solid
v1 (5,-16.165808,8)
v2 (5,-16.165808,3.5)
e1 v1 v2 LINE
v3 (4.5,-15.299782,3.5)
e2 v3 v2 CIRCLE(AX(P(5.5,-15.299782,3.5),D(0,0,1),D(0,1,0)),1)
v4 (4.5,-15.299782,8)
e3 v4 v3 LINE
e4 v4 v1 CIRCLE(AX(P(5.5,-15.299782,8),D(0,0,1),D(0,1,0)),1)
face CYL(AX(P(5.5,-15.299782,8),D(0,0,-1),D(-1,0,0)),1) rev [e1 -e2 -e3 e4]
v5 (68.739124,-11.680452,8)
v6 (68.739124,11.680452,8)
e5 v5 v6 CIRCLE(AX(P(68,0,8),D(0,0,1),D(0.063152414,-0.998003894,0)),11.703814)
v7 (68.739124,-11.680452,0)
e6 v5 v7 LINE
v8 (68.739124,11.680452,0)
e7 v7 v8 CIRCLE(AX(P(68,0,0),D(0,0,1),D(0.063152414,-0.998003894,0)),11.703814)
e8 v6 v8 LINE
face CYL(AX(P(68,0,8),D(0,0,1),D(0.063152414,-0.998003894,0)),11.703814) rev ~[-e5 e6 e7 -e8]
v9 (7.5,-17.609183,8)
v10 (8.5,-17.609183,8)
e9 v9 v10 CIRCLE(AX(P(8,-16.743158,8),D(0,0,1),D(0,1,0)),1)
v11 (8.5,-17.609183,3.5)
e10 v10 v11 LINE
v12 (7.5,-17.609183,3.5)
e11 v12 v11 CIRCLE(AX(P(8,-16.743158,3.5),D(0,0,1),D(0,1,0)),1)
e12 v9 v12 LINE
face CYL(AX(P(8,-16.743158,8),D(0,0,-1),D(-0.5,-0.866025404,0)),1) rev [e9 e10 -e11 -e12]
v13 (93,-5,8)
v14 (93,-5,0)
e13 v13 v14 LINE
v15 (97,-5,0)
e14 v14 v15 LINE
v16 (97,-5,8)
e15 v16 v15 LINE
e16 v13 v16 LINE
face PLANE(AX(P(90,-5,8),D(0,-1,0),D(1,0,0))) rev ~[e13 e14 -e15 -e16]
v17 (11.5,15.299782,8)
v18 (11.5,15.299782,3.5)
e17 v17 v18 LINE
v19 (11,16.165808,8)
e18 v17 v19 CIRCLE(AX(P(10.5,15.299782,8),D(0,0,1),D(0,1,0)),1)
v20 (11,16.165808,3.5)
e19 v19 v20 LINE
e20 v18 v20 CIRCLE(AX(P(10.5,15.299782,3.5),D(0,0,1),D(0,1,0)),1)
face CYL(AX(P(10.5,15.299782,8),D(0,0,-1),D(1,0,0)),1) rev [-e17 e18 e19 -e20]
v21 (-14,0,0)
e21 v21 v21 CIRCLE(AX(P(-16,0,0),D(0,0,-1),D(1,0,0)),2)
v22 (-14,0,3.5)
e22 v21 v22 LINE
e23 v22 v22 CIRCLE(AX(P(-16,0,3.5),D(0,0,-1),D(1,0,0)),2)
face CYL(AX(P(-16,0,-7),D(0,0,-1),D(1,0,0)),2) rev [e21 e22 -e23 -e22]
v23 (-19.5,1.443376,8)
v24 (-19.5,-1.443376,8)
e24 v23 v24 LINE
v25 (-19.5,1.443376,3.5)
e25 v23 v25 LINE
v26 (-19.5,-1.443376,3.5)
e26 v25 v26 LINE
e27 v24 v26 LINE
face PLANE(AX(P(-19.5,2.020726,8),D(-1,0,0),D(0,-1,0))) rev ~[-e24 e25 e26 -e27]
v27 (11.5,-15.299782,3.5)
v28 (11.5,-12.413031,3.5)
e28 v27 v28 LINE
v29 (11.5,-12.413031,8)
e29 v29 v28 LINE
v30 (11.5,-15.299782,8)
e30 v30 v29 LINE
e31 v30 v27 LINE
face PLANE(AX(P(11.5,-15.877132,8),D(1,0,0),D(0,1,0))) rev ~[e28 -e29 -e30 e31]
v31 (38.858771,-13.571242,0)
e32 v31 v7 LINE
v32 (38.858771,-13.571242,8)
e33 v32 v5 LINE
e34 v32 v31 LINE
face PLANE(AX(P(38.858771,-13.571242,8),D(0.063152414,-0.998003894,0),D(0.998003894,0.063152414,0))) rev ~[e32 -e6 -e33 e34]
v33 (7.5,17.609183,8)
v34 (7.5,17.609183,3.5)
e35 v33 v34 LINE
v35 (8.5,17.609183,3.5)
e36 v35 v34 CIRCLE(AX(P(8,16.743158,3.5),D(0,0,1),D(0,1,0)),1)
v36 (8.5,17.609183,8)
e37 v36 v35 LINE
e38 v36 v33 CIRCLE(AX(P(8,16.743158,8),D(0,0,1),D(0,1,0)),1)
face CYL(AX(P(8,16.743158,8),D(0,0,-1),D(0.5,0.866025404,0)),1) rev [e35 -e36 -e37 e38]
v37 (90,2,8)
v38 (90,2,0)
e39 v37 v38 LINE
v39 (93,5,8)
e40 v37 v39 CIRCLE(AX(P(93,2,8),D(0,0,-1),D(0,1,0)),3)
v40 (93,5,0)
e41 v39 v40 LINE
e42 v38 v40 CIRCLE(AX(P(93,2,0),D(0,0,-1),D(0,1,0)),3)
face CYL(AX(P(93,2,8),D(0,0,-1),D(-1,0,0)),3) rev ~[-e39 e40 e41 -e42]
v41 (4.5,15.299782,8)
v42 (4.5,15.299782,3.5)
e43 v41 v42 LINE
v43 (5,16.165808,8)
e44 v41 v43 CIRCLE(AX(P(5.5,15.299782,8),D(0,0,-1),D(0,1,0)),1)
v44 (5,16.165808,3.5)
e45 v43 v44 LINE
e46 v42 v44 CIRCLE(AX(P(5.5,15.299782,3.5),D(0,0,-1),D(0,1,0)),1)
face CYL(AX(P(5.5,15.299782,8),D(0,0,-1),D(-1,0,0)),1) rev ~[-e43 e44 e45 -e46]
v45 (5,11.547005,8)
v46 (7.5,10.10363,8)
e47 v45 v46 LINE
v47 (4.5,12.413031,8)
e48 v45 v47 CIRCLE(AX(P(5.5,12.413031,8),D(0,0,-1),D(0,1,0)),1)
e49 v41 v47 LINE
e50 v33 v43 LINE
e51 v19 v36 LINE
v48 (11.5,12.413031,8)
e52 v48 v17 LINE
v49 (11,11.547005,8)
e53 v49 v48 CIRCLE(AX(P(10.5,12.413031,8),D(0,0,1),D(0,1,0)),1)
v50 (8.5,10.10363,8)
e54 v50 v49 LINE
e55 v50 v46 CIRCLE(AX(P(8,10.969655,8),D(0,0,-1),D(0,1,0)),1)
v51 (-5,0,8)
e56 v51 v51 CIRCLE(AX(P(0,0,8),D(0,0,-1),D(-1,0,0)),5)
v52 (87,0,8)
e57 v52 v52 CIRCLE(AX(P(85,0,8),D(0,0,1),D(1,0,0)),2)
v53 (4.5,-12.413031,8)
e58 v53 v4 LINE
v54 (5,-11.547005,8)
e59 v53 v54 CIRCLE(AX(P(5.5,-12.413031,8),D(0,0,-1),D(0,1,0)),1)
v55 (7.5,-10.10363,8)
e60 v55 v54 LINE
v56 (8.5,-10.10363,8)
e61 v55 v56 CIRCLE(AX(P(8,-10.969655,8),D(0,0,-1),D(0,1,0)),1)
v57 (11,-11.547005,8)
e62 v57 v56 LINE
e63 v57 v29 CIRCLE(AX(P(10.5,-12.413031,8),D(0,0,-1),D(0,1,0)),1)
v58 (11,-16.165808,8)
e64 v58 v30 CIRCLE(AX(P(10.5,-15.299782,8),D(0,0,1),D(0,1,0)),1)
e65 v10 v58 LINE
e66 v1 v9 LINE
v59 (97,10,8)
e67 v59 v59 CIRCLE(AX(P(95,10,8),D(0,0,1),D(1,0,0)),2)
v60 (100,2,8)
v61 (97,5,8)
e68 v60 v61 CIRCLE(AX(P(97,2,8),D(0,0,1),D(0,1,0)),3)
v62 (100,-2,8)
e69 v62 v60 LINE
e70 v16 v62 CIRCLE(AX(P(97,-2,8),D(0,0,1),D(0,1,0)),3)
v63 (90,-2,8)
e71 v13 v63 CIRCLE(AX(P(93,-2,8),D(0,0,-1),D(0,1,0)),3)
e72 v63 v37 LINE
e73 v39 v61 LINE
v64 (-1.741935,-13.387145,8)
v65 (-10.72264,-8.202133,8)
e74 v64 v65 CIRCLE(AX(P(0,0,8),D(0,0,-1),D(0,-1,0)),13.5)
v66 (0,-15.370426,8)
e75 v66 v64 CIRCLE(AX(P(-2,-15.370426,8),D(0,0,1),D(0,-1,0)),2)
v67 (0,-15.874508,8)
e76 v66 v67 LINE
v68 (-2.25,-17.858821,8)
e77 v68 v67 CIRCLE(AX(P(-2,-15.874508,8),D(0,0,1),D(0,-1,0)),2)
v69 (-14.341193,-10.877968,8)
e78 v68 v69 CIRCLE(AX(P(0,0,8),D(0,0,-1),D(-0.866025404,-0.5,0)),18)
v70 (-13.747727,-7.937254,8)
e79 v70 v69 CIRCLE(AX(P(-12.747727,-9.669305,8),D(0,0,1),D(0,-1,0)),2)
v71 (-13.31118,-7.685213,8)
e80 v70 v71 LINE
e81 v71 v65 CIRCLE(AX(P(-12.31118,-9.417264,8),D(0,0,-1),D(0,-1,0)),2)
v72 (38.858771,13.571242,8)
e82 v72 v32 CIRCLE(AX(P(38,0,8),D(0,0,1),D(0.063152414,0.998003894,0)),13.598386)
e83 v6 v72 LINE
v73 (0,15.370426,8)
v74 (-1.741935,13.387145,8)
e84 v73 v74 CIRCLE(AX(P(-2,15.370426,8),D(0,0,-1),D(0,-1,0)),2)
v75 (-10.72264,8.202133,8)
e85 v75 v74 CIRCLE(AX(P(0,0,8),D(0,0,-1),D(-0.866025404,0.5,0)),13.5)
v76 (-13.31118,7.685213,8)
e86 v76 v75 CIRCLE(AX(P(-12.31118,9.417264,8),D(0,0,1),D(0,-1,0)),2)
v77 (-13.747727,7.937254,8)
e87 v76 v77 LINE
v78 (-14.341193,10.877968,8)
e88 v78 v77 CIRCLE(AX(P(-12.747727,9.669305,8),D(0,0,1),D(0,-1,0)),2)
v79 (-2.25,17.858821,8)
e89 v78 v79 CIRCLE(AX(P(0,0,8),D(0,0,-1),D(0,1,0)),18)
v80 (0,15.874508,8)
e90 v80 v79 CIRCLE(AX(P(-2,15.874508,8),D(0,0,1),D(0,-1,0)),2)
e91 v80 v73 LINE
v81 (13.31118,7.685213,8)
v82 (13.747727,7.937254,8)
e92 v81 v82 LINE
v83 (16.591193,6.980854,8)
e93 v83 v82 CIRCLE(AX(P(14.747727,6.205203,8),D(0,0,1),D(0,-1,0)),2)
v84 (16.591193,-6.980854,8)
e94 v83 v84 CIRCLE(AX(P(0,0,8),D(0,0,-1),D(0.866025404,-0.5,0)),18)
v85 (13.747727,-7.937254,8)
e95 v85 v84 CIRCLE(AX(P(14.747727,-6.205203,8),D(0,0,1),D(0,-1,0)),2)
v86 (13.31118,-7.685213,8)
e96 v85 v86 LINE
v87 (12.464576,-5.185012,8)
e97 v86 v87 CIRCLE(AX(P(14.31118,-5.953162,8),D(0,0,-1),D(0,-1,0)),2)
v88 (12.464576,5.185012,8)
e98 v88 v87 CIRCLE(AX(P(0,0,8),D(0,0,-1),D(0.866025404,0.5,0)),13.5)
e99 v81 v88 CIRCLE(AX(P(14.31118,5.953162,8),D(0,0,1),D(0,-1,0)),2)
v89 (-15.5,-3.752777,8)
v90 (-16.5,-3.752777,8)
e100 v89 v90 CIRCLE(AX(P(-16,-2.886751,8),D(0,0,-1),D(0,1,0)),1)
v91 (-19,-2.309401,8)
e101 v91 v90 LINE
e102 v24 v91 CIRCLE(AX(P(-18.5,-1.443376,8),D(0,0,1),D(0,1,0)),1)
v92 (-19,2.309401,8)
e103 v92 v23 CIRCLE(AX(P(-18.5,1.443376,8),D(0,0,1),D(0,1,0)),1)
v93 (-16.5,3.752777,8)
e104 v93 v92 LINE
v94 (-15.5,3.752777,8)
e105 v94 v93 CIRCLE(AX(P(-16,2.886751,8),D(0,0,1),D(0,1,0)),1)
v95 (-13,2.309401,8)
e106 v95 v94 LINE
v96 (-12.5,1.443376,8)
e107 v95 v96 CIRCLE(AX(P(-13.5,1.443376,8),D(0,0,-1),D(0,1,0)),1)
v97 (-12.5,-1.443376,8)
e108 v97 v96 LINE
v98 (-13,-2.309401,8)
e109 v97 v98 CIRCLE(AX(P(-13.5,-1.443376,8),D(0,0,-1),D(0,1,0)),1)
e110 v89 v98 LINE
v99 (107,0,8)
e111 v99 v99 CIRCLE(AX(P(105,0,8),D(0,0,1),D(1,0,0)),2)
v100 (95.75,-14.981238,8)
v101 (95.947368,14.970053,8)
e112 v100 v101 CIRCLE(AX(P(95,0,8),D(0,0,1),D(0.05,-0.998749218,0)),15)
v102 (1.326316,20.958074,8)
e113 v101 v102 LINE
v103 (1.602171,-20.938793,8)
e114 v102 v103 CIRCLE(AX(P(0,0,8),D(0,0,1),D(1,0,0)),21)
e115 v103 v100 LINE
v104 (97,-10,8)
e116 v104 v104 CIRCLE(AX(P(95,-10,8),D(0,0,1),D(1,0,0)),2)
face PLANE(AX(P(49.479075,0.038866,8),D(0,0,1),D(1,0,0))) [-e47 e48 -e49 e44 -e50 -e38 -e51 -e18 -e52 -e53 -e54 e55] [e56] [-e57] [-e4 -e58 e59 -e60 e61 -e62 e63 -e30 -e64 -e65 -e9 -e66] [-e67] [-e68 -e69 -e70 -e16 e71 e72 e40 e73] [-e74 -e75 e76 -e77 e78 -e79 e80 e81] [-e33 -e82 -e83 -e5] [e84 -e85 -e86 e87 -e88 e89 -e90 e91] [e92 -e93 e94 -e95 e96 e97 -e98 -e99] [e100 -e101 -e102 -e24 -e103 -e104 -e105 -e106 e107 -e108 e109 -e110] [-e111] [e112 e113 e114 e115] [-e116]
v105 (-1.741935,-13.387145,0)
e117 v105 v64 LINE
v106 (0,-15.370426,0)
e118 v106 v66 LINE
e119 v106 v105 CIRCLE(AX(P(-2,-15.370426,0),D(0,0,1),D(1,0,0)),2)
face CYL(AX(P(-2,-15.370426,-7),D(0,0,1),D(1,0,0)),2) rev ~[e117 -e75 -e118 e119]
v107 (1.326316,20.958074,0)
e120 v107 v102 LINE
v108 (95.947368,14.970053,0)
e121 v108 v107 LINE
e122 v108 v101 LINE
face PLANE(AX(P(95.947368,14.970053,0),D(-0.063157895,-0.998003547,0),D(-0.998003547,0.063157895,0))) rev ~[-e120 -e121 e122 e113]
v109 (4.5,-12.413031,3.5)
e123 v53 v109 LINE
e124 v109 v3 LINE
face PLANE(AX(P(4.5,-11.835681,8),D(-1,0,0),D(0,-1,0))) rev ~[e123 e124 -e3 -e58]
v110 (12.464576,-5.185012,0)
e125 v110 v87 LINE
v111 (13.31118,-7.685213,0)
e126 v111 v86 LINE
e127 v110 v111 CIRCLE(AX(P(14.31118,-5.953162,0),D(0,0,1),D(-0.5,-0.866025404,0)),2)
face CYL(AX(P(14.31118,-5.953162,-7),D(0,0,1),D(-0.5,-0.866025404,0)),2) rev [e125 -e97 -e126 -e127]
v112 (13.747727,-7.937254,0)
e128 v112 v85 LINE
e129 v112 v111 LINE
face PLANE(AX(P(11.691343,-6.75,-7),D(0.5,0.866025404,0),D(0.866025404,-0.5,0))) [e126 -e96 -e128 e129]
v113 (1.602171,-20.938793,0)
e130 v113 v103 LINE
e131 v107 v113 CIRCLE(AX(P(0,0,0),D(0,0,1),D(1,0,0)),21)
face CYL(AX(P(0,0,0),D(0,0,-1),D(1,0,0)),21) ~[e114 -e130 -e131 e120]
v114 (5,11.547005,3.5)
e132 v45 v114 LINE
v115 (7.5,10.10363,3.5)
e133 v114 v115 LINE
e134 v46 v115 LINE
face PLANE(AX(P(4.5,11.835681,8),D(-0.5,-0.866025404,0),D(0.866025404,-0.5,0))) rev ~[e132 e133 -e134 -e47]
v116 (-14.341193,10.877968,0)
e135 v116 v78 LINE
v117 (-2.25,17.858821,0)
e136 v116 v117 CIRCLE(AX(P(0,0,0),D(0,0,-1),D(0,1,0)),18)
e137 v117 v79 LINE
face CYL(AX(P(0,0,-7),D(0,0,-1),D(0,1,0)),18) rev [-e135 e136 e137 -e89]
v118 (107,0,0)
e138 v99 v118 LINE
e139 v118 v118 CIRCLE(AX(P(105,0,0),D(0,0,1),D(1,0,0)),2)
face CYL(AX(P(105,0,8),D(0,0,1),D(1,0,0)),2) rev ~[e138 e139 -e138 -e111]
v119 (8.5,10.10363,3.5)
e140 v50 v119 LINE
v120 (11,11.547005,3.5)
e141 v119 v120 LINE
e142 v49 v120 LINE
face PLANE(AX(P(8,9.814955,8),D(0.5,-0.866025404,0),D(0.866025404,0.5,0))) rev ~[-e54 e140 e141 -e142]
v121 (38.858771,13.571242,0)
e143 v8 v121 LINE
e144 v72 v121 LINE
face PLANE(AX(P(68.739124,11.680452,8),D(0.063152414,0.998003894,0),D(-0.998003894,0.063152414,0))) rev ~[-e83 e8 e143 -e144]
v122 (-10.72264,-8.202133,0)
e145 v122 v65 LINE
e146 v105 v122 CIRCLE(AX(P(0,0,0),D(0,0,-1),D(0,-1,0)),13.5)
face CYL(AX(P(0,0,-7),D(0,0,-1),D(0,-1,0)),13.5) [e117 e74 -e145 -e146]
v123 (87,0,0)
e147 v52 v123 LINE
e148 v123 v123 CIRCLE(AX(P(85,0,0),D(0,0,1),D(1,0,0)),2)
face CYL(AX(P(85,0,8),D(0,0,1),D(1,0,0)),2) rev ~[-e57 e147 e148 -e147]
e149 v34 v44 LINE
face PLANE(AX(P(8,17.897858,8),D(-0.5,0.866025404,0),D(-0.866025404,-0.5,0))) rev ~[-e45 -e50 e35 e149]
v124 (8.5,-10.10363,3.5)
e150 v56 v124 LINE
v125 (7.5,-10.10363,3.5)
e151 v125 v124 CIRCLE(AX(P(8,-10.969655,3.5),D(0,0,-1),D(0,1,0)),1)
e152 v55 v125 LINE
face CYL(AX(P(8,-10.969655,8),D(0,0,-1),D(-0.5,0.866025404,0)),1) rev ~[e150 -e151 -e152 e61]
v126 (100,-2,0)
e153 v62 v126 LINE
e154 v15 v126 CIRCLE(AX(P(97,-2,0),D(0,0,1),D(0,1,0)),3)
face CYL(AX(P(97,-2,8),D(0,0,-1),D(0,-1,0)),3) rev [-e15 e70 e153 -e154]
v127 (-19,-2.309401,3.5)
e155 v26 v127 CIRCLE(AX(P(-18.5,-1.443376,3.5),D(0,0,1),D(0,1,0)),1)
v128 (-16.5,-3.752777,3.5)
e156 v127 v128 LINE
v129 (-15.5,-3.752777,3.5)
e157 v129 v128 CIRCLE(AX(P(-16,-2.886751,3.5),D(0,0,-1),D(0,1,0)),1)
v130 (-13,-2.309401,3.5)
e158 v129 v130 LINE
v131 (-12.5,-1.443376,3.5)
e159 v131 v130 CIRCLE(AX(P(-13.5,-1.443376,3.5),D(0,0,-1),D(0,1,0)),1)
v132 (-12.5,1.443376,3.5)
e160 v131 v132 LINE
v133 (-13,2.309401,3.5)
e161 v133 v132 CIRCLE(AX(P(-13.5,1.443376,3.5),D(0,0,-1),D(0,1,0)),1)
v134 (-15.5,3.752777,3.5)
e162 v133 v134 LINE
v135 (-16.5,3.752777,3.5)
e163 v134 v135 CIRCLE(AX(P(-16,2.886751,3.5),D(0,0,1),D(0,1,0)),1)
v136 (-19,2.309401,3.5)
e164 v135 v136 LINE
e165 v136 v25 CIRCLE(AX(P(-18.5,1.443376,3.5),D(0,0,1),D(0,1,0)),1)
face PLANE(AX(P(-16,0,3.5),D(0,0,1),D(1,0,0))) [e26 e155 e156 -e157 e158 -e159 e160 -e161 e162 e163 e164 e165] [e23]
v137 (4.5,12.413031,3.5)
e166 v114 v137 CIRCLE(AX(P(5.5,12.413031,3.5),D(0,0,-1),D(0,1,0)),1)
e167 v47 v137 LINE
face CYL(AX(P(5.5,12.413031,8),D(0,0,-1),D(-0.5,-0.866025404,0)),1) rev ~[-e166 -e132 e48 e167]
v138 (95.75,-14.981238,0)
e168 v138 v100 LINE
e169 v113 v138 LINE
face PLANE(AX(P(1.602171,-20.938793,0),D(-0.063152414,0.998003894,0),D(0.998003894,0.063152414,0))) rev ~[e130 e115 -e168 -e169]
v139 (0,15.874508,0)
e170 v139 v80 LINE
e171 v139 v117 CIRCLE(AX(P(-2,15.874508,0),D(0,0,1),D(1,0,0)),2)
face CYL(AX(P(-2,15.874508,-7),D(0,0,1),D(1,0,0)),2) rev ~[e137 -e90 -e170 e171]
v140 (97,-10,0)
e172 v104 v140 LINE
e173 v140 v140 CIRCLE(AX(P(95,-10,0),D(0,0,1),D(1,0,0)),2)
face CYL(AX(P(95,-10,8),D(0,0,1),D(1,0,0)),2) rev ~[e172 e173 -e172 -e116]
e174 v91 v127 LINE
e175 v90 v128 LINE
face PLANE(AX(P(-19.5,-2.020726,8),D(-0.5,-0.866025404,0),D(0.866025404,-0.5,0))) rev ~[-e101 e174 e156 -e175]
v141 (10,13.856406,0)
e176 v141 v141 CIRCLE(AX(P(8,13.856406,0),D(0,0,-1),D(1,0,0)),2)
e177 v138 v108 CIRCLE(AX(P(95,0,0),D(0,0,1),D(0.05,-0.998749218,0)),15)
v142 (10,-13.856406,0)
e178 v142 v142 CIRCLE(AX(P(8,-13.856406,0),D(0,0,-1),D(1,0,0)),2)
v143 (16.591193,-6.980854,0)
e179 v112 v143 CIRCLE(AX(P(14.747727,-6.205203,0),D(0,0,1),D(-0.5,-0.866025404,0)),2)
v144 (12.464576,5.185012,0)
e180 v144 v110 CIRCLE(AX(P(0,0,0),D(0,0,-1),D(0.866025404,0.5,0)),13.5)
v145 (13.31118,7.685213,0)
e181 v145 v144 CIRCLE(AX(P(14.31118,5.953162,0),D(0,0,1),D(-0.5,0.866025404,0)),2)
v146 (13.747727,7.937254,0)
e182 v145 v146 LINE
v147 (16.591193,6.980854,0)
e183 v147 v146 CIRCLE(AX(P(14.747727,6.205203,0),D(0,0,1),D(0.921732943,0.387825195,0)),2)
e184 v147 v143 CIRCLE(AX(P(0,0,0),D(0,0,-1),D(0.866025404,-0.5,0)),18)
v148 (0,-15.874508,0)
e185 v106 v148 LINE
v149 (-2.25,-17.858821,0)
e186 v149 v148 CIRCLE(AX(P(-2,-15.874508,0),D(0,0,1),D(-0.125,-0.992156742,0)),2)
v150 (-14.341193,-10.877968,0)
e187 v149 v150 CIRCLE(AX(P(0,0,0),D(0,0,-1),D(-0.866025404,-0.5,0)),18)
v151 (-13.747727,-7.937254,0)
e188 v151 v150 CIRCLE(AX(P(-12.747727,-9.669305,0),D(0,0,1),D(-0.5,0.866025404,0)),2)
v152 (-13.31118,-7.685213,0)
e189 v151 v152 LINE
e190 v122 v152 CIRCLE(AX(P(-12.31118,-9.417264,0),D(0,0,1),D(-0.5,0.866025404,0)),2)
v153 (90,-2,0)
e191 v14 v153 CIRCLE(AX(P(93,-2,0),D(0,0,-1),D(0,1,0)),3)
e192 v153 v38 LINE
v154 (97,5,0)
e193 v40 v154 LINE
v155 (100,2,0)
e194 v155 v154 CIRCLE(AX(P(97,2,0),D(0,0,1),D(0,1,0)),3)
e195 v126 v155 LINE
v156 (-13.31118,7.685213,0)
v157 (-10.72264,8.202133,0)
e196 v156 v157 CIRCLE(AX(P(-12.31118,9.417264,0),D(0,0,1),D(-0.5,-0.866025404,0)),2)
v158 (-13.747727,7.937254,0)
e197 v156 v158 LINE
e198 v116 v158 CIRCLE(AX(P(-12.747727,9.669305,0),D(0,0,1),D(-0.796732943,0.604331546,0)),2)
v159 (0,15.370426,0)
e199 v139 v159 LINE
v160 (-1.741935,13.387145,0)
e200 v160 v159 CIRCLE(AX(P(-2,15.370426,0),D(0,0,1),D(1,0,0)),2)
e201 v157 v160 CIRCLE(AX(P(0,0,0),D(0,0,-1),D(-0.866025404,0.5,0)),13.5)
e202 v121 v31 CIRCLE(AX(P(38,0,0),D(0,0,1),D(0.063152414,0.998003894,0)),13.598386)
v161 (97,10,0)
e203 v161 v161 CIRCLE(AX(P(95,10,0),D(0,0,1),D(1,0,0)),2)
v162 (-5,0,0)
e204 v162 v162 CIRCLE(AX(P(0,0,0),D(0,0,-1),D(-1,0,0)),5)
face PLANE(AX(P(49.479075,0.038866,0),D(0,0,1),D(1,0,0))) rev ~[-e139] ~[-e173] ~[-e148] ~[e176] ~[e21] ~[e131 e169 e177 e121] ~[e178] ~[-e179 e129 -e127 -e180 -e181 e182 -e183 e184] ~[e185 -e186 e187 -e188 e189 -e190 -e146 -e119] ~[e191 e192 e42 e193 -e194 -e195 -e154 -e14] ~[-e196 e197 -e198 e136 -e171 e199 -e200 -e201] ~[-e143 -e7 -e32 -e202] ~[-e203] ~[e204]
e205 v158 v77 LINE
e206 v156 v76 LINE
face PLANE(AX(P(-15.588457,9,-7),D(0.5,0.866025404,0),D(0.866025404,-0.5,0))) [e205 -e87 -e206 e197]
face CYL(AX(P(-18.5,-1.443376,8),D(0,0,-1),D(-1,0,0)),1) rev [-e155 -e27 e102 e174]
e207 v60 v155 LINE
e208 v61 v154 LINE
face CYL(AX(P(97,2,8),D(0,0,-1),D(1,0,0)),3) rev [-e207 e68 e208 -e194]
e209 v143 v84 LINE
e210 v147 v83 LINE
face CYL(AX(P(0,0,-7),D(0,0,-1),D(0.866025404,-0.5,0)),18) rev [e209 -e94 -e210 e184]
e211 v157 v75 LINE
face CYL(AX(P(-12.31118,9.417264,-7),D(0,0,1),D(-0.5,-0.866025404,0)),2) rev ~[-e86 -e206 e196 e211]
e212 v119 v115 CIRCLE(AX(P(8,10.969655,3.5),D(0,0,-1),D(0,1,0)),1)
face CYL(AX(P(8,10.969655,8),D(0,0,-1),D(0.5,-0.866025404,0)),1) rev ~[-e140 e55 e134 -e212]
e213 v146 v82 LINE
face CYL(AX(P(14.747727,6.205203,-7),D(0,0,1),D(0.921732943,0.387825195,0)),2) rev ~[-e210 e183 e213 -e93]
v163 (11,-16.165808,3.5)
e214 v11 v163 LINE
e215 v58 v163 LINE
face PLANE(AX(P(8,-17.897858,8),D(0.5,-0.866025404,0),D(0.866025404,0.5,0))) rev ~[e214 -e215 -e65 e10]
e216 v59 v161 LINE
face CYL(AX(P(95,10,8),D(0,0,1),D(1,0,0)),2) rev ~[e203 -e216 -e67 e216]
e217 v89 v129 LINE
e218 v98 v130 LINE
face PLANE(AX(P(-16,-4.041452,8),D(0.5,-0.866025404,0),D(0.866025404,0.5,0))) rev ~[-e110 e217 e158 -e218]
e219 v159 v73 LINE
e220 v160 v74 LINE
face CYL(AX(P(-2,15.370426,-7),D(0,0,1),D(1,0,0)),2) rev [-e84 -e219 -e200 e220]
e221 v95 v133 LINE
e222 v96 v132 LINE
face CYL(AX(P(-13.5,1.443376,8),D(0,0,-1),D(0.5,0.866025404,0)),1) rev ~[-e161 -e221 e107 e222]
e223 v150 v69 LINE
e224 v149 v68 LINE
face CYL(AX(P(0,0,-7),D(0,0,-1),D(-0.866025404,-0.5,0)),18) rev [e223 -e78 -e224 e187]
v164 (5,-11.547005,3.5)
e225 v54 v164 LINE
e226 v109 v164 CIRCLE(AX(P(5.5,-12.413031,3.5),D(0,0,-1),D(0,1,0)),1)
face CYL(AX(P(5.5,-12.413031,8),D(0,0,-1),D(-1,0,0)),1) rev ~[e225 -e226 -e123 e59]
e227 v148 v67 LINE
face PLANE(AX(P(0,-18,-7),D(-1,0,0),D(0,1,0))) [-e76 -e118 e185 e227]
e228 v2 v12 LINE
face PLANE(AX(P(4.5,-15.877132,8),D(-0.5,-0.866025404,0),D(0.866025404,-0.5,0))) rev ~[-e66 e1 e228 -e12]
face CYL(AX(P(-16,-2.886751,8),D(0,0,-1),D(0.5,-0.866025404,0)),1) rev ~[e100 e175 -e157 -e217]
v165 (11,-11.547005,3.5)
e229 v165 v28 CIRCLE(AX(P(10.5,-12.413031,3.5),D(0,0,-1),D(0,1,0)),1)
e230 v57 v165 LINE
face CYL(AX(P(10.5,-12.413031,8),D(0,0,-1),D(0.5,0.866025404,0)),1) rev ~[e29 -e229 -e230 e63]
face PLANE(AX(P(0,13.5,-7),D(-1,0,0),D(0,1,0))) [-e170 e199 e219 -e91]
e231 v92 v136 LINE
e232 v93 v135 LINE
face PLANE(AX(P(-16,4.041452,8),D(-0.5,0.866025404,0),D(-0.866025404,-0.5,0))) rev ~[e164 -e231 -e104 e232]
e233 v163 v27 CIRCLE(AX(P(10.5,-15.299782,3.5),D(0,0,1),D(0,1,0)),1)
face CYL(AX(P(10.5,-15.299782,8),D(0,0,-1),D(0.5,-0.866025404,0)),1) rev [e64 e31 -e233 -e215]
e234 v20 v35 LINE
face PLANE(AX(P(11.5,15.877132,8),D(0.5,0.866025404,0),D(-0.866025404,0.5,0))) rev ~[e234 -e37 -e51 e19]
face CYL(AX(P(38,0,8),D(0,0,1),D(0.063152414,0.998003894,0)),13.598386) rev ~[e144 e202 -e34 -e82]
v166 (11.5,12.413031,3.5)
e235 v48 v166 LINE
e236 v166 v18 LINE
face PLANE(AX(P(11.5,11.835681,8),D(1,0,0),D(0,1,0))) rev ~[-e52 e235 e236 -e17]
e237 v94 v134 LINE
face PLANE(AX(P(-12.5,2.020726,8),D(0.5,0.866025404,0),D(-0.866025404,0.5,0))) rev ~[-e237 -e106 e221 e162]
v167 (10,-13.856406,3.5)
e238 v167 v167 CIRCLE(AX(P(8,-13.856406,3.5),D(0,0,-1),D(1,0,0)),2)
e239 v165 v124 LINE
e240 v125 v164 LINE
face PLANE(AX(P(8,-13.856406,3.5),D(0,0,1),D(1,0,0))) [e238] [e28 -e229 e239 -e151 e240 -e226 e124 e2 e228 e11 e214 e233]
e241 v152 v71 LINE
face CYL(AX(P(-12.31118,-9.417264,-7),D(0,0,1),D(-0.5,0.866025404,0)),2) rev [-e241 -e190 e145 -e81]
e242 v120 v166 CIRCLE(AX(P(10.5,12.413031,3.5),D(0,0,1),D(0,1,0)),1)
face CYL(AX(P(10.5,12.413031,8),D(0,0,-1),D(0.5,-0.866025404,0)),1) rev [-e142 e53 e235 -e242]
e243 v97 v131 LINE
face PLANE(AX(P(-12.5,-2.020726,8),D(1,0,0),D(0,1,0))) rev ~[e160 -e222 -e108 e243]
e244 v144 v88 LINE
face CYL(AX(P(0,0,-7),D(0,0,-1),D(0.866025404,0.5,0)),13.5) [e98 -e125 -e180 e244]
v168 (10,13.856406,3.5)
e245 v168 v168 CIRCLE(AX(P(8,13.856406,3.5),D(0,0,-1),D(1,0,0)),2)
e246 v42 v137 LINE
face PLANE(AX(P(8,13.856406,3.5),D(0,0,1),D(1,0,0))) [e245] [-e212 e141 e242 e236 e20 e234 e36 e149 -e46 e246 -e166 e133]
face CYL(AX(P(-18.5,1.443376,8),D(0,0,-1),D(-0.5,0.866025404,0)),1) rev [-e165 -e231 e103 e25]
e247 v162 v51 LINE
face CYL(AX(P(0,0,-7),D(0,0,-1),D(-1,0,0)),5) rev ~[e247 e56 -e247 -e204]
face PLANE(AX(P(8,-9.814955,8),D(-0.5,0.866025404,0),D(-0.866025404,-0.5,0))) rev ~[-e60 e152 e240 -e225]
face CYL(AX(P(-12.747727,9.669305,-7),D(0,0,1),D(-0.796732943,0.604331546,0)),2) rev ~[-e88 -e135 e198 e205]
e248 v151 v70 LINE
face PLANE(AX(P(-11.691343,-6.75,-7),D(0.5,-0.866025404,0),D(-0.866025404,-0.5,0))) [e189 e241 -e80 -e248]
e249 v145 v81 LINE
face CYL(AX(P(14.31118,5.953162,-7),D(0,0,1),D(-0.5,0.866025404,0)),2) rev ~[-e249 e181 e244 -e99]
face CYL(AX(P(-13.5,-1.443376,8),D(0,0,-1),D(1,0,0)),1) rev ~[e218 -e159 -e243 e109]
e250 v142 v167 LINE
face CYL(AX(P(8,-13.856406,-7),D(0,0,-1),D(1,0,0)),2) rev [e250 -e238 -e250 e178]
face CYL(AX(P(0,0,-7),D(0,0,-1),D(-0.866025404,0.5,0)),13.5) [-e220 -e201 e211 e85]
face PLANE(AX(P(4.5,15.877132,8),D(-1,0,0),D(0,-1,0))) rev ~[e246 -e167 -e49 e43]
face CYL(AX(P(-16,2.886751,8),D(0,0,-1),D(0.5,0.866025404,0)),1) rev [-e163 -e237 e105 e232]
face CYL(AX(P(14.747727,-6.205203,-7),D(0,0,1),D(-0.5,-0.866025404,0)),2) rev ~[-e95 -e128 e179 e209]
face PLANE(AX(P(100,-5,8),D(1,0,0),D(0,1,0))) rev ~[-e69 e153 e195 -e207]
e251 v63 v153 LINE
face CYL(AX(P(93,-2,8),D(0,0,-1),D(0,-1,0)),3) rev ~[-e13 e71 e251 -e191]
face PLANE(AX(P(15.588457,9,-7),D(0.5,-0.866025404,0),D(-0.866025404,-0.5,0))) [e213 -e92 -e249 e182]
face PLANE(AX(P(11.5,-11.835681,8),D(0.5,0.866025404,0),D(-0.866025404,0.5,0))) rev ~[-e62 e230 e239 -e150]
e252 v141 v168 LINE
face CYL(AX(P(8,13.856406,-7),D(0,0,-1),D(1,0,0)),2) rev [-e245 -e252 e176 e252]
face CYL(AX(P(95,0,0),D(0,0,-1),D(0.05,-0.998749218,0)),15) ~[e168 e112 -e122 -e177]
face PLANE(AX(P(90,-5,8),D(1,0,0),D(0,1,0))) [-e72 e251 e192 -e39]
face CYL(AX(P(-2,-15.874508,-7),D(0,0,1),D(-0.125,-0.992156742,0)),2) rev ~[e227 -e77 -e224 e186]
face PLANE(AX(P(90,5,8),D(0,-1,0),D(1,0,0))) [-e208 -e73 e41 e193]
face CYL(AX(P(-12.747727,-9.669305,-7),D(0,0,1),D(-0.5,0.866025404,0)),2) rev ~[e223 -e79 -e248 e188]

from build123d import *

# Parameters (mm, degrees)
SKETCH_1_R           = 21
SKETCH_1_R_2         = 2
EXTRUDE_1_DEPTH      = 8
EXTRUDE_START        = -7
SKETCH_1_3_R         = 20
SKETCH_1_3_R_2       = 2
EXTRUDE_2_DEPTH      = 7
SKETCH_3_R           = 5
CUT_EXTRUDE_10_DEPTH = 25
CUT_EXTRUDE_11_DEPTH = 25
FILLET_8_R           = 2
EXTRUDE_START_2      = -8
EXTRUDE_4_DEPTH      = 8
SKETCH_14_R          = 2
CUT_EXTRUDE_13_DEPTH = 8
SKETCH_15_W          = 10
SKETCH_15_H          = 10
CUT_EXTRUDE_14_DEPTH = 20
CUT_EXTRUDE_START    = 26
SKETCH_16_R          = 20
CUT_EXTRUDE_15_DEPTH = 26
CUT_EXTRUDE_16_DEPTH = 4.5
CUT_EXTRUDE_17_DEPTH = 10
FILLET_9_R           = 1
FILLET_10_R          = 3


with BuildPart() as part:
    # 草图1 → 凸台-拉伸1 (new body)
    with BuildSketch(Plane.XY):
        Circle(SKETCH_1_R)
        with Locations((8, 13.856406461)):
            Circle(SKETCH_1_R_2, mode=Mode.SUBTRACT)
        with Locations((8, -13.856406461)):
            Circle(SKETCH_1_R_2, mode=Mode.SUBTRACT)
        with Locations((-16, 0)):
            Circle(SKETCH_1_R_2, mode=Mode.SUBTRACT)
    extrude(amount=EXTRUDE_1_DEPTH)

    # 草图1<3> → 凸台-拉伸2 (add)
    with BuildSketch(Plane.XY.offset(EXTRUDE_START)):
        Circle(SKETCH_1_3_R)
        with Locations((8, -13.856406461)):
            Circle(SKETCH_1_3_R_2, mode=Mode.SUBTRACT)
        with Locations((-16, 0)):
            Circle(SKETCH_1_3_R_2, mode=Mode.SUBTRACT)
        with Locations((8, 13.856406461)):
            Circle(SKETCH_1_3_R_2, mode=Mode.SUBTRACT)
    extrude(amount=EXTRUDE_2_DEPTH)

    # 草图3 → 切除-拉伸10 (cut)
    with BuildSketch(Plane(origin=(0, 0, -7), x_dir=(-1, 0, 0), z_dir=(0, 0, -1))):
        Circle(SKETCH_3_R)
    extrude(amount=-CUT_EXTRUDE_10_DEPTH, mode=Mode.SUBTRACT)

    # 草图7 → 切除-拉伸11 (cut)
    with BuildSketch(Plane(origin=(0, 0, -7), x_dir=(-1, 0, 0), z_dir=(0, 0, -1))):
        with BuildLine():
            Line((0, 13.5), (0, 18))
            ThreePointArc((0, 18), (9, 15.588457268), (15.588457268, 9))
            Line((15.588457268, 9), (11.691342951, 6.75))
            ThreePointArc((11.691342951, 6.75), (6.75, 11.691342951), (0, 13.5))
        make_face()
        with BuildLine():
            Line((11.691342951, -6.75), (15.588457268, -9))
            ThreePointArc((15.588457268, -9), (9, -15.588457268), (0, -18))
            Line((0, -18), (0, -13.5))
            ThreePointArc((0, -13.5), (6.75, -11.691342951), (11.691342951, -6.75))
        make_face()
        with BuildLine():
            Line((-11.691342951, -6.75), (-15.588457268, -9))
            ThreePointArc((-15.588457268, -9), (-18, 0), (-15.588457268, 9))
            Line((-15.588457268, 9), (-11.691342951, 6.75))
            ThreePointArc((-11.691342951, 6.75), (-13.5, 0), (-11.691342951, -6.75))
        make_face()
    extrude(amount=-CUT_EXTRUDE_11_DEPTH, mode=Mode.SUBTRACT)

    # 圆角8
    fillet_8_edges = [part.edges().sort_by_distance(p)[0] for p in [
        (0, 13.5, 0.5),
        (0, 18, 0.5),
        (0, -18, 0.5),
        (0, -13.5, 0.5),
        (-11.691342951, -6.75, 0.5),
        (-15.588457268, -9, 0.5),
        (15.588457268, 9, 0.5),
        (11.691342951, 6.75, 0.5),
        (11.691342951, -6.75, 0.5),
        (15.588457268, -9, 0.5),
        (-11.691342951, 6.75, 0.5),
        (-15.588457268, 9, 0.5),
    ]]
    fillet(fillet_8_edges, radius=FILLET_8_R)

    # 草图12 → 凸台-拉伸4 (add)
    with BuildSketch(Plane.XY.offset(8).offset(EXTRUDE_START_2)):
        with BuildLine():
            Line((95.947368421, 14.970053209), (1.326315789, 20.958074492))
            ThreePointArc((1.326315789, 20.958074492), (15.310986767, 14.372671436), (21, 0))
            ThreePointArc((21, 0), (15.405284749, -14.271552186), (1.602171257, -20.93879288))
            Line((1.602171257, -20.93879288), (95.75, -14.981238267))
            ThreePointArc((95.75, -14.981238267), (109.999674335, -0.09884255), (95.947368421, 14.970053209))
        make_face()
    extrude(amount=EXTRUDE_4_DEPTH)

    # 草图14 → 切除-拉伸13 (cut)
    with BuildSketch(Plane.XY.offset(8)):
        with Locations((95, 10)):
            Circle(SKETCH_14_R)
        with Locations((105, 0)):
            Circle(SKETCH_14_R)
        with Locations((95, -10)):
            Circle(SKETCH_14_R)
        with Locations((85, 0)):
            Circle(SKETCH_14_R)
    extrude(amount=-CUT_EXTRUDE_13_DEPTH, mode=Mode.SUBTRACT)

    # 草图15 → 切除-拉伸14 (cut)
    with BuildSketch(Plane.XY.offset(8)):
        with Locations((95, 0)):
            Rectangle(SKETCH_15_W, SKETCH_15_H)
    extrude(amount=-CUT_EXTRUDE_14_DEPTH, mode=Mode.SUBTRACT)

    # 草图16 → 切除-拉伸15 (cut)
    with BuildSketch(Plane(origin=(0, 0, 0), x_dir=(-1, 0, 0), z_dir=(0, 0, -1)).offset(CUT_EXTRUDE_START)):
        Circle(SKETCH_16_R)
    extrude(amount=-CUT_EXTRUDE_15_DEPTH, mode=Mode.SUBTRACT)

    # 草图17 → 切除-拉伸16 (cut)
    with BuildSketch(Plane.XY.offset(8)):
        Polygon((4.5, -11.835680518), (4.5, -15.877132403), (8, -17.897858345), (11.5, -15.877132403), (11.5, -11.835680518), (8, -9.814954576), align=None)
        Polygon((8, 9.814954576), (11.5, 11.835680518), (11.5, 15.877132403), (8, 17.897858345), (4.5, 15.877132403), (4.5, 11.835680518), align=None)
        Polygon((-12.5, 2.020725942), (-16, 4.041451884), (-19.5, 2.020725942), (-19.5, -2.020725942), (-16, -4.041451884), (-12.5, -2.020725942), align=None)
    extrude(amount=-CUT_EXTRUDE_16_DEPTH, mode=Mode.SUBTRACT)

    # 草图13 → 切除-拉伸17 (cut)
    with BuildSketch(Plane.XY.offset(8)):
        with BuildLine():
            Line((68.739124089, 11.680451578), (38.858770913, 13.571242245))
            ThreePointArc((38.858770913, 13.571242245), (24.401613936, 0), (38.858770913, -13.571242245))
            Line((38.858770913, -13.571242245), (68.739124089, -11.680451578))
            ThreePointArc((68.739124089, -11.680451578), (79.70381363, 0), (68.739124089, 11.680451578))
        make_face()
    extrude(amount=-CUT_EXTRUDE_17_DEPTH, mode=Mode.SUBTRACT)

    # 圆角9
    fillet_9_edges = [part.edges().sort_by_distance(p)[0] for p in [
        (-12.5, 2.020725942, 5.75),
        (-16, 4.041451884, 5.75),
        (-19.5, 2.020725942, 5.75),
        (-19.5, -2.020725942, 5.75),
        (-16, -4.041451884, 5.75),
        (-12.5, -2.020725942, 5.75),
        (4.5, -11.835680518, 5.75),
        (4.5, -15.877132403, 5.75),
        (8, -17.897858345, 5.75),
        (11.5, -15.877132403, 5.75),
        (11.5, -11.835680518, 5.75),
        (8, -9.814954576, 5.75),
        (8, 9.814954576, 5.75),
        (11.5, 11.835680518, 5.75),
        (4.5, 15.877132403, 5.75),
        (4.5, 11.835680518, 5.75),
        (11.5, 15.877132403, 5.75),
        (8, 17.897858345, 5.75),
    ]]
    fillet(fillet_9_edges, radius=FILLET_9_R)

    # 圆角10
    fillet_10_edges = [part.edges().sort_by_distance(p)[0] for p in [
        (90, -5, 4),
        (100, -5, 4),
        (100, 5, 4),
        (90, 5, 4),
    ]]
    fillet(fillet_10_edges, radius=FILLET_10_R)


solid = part.part
